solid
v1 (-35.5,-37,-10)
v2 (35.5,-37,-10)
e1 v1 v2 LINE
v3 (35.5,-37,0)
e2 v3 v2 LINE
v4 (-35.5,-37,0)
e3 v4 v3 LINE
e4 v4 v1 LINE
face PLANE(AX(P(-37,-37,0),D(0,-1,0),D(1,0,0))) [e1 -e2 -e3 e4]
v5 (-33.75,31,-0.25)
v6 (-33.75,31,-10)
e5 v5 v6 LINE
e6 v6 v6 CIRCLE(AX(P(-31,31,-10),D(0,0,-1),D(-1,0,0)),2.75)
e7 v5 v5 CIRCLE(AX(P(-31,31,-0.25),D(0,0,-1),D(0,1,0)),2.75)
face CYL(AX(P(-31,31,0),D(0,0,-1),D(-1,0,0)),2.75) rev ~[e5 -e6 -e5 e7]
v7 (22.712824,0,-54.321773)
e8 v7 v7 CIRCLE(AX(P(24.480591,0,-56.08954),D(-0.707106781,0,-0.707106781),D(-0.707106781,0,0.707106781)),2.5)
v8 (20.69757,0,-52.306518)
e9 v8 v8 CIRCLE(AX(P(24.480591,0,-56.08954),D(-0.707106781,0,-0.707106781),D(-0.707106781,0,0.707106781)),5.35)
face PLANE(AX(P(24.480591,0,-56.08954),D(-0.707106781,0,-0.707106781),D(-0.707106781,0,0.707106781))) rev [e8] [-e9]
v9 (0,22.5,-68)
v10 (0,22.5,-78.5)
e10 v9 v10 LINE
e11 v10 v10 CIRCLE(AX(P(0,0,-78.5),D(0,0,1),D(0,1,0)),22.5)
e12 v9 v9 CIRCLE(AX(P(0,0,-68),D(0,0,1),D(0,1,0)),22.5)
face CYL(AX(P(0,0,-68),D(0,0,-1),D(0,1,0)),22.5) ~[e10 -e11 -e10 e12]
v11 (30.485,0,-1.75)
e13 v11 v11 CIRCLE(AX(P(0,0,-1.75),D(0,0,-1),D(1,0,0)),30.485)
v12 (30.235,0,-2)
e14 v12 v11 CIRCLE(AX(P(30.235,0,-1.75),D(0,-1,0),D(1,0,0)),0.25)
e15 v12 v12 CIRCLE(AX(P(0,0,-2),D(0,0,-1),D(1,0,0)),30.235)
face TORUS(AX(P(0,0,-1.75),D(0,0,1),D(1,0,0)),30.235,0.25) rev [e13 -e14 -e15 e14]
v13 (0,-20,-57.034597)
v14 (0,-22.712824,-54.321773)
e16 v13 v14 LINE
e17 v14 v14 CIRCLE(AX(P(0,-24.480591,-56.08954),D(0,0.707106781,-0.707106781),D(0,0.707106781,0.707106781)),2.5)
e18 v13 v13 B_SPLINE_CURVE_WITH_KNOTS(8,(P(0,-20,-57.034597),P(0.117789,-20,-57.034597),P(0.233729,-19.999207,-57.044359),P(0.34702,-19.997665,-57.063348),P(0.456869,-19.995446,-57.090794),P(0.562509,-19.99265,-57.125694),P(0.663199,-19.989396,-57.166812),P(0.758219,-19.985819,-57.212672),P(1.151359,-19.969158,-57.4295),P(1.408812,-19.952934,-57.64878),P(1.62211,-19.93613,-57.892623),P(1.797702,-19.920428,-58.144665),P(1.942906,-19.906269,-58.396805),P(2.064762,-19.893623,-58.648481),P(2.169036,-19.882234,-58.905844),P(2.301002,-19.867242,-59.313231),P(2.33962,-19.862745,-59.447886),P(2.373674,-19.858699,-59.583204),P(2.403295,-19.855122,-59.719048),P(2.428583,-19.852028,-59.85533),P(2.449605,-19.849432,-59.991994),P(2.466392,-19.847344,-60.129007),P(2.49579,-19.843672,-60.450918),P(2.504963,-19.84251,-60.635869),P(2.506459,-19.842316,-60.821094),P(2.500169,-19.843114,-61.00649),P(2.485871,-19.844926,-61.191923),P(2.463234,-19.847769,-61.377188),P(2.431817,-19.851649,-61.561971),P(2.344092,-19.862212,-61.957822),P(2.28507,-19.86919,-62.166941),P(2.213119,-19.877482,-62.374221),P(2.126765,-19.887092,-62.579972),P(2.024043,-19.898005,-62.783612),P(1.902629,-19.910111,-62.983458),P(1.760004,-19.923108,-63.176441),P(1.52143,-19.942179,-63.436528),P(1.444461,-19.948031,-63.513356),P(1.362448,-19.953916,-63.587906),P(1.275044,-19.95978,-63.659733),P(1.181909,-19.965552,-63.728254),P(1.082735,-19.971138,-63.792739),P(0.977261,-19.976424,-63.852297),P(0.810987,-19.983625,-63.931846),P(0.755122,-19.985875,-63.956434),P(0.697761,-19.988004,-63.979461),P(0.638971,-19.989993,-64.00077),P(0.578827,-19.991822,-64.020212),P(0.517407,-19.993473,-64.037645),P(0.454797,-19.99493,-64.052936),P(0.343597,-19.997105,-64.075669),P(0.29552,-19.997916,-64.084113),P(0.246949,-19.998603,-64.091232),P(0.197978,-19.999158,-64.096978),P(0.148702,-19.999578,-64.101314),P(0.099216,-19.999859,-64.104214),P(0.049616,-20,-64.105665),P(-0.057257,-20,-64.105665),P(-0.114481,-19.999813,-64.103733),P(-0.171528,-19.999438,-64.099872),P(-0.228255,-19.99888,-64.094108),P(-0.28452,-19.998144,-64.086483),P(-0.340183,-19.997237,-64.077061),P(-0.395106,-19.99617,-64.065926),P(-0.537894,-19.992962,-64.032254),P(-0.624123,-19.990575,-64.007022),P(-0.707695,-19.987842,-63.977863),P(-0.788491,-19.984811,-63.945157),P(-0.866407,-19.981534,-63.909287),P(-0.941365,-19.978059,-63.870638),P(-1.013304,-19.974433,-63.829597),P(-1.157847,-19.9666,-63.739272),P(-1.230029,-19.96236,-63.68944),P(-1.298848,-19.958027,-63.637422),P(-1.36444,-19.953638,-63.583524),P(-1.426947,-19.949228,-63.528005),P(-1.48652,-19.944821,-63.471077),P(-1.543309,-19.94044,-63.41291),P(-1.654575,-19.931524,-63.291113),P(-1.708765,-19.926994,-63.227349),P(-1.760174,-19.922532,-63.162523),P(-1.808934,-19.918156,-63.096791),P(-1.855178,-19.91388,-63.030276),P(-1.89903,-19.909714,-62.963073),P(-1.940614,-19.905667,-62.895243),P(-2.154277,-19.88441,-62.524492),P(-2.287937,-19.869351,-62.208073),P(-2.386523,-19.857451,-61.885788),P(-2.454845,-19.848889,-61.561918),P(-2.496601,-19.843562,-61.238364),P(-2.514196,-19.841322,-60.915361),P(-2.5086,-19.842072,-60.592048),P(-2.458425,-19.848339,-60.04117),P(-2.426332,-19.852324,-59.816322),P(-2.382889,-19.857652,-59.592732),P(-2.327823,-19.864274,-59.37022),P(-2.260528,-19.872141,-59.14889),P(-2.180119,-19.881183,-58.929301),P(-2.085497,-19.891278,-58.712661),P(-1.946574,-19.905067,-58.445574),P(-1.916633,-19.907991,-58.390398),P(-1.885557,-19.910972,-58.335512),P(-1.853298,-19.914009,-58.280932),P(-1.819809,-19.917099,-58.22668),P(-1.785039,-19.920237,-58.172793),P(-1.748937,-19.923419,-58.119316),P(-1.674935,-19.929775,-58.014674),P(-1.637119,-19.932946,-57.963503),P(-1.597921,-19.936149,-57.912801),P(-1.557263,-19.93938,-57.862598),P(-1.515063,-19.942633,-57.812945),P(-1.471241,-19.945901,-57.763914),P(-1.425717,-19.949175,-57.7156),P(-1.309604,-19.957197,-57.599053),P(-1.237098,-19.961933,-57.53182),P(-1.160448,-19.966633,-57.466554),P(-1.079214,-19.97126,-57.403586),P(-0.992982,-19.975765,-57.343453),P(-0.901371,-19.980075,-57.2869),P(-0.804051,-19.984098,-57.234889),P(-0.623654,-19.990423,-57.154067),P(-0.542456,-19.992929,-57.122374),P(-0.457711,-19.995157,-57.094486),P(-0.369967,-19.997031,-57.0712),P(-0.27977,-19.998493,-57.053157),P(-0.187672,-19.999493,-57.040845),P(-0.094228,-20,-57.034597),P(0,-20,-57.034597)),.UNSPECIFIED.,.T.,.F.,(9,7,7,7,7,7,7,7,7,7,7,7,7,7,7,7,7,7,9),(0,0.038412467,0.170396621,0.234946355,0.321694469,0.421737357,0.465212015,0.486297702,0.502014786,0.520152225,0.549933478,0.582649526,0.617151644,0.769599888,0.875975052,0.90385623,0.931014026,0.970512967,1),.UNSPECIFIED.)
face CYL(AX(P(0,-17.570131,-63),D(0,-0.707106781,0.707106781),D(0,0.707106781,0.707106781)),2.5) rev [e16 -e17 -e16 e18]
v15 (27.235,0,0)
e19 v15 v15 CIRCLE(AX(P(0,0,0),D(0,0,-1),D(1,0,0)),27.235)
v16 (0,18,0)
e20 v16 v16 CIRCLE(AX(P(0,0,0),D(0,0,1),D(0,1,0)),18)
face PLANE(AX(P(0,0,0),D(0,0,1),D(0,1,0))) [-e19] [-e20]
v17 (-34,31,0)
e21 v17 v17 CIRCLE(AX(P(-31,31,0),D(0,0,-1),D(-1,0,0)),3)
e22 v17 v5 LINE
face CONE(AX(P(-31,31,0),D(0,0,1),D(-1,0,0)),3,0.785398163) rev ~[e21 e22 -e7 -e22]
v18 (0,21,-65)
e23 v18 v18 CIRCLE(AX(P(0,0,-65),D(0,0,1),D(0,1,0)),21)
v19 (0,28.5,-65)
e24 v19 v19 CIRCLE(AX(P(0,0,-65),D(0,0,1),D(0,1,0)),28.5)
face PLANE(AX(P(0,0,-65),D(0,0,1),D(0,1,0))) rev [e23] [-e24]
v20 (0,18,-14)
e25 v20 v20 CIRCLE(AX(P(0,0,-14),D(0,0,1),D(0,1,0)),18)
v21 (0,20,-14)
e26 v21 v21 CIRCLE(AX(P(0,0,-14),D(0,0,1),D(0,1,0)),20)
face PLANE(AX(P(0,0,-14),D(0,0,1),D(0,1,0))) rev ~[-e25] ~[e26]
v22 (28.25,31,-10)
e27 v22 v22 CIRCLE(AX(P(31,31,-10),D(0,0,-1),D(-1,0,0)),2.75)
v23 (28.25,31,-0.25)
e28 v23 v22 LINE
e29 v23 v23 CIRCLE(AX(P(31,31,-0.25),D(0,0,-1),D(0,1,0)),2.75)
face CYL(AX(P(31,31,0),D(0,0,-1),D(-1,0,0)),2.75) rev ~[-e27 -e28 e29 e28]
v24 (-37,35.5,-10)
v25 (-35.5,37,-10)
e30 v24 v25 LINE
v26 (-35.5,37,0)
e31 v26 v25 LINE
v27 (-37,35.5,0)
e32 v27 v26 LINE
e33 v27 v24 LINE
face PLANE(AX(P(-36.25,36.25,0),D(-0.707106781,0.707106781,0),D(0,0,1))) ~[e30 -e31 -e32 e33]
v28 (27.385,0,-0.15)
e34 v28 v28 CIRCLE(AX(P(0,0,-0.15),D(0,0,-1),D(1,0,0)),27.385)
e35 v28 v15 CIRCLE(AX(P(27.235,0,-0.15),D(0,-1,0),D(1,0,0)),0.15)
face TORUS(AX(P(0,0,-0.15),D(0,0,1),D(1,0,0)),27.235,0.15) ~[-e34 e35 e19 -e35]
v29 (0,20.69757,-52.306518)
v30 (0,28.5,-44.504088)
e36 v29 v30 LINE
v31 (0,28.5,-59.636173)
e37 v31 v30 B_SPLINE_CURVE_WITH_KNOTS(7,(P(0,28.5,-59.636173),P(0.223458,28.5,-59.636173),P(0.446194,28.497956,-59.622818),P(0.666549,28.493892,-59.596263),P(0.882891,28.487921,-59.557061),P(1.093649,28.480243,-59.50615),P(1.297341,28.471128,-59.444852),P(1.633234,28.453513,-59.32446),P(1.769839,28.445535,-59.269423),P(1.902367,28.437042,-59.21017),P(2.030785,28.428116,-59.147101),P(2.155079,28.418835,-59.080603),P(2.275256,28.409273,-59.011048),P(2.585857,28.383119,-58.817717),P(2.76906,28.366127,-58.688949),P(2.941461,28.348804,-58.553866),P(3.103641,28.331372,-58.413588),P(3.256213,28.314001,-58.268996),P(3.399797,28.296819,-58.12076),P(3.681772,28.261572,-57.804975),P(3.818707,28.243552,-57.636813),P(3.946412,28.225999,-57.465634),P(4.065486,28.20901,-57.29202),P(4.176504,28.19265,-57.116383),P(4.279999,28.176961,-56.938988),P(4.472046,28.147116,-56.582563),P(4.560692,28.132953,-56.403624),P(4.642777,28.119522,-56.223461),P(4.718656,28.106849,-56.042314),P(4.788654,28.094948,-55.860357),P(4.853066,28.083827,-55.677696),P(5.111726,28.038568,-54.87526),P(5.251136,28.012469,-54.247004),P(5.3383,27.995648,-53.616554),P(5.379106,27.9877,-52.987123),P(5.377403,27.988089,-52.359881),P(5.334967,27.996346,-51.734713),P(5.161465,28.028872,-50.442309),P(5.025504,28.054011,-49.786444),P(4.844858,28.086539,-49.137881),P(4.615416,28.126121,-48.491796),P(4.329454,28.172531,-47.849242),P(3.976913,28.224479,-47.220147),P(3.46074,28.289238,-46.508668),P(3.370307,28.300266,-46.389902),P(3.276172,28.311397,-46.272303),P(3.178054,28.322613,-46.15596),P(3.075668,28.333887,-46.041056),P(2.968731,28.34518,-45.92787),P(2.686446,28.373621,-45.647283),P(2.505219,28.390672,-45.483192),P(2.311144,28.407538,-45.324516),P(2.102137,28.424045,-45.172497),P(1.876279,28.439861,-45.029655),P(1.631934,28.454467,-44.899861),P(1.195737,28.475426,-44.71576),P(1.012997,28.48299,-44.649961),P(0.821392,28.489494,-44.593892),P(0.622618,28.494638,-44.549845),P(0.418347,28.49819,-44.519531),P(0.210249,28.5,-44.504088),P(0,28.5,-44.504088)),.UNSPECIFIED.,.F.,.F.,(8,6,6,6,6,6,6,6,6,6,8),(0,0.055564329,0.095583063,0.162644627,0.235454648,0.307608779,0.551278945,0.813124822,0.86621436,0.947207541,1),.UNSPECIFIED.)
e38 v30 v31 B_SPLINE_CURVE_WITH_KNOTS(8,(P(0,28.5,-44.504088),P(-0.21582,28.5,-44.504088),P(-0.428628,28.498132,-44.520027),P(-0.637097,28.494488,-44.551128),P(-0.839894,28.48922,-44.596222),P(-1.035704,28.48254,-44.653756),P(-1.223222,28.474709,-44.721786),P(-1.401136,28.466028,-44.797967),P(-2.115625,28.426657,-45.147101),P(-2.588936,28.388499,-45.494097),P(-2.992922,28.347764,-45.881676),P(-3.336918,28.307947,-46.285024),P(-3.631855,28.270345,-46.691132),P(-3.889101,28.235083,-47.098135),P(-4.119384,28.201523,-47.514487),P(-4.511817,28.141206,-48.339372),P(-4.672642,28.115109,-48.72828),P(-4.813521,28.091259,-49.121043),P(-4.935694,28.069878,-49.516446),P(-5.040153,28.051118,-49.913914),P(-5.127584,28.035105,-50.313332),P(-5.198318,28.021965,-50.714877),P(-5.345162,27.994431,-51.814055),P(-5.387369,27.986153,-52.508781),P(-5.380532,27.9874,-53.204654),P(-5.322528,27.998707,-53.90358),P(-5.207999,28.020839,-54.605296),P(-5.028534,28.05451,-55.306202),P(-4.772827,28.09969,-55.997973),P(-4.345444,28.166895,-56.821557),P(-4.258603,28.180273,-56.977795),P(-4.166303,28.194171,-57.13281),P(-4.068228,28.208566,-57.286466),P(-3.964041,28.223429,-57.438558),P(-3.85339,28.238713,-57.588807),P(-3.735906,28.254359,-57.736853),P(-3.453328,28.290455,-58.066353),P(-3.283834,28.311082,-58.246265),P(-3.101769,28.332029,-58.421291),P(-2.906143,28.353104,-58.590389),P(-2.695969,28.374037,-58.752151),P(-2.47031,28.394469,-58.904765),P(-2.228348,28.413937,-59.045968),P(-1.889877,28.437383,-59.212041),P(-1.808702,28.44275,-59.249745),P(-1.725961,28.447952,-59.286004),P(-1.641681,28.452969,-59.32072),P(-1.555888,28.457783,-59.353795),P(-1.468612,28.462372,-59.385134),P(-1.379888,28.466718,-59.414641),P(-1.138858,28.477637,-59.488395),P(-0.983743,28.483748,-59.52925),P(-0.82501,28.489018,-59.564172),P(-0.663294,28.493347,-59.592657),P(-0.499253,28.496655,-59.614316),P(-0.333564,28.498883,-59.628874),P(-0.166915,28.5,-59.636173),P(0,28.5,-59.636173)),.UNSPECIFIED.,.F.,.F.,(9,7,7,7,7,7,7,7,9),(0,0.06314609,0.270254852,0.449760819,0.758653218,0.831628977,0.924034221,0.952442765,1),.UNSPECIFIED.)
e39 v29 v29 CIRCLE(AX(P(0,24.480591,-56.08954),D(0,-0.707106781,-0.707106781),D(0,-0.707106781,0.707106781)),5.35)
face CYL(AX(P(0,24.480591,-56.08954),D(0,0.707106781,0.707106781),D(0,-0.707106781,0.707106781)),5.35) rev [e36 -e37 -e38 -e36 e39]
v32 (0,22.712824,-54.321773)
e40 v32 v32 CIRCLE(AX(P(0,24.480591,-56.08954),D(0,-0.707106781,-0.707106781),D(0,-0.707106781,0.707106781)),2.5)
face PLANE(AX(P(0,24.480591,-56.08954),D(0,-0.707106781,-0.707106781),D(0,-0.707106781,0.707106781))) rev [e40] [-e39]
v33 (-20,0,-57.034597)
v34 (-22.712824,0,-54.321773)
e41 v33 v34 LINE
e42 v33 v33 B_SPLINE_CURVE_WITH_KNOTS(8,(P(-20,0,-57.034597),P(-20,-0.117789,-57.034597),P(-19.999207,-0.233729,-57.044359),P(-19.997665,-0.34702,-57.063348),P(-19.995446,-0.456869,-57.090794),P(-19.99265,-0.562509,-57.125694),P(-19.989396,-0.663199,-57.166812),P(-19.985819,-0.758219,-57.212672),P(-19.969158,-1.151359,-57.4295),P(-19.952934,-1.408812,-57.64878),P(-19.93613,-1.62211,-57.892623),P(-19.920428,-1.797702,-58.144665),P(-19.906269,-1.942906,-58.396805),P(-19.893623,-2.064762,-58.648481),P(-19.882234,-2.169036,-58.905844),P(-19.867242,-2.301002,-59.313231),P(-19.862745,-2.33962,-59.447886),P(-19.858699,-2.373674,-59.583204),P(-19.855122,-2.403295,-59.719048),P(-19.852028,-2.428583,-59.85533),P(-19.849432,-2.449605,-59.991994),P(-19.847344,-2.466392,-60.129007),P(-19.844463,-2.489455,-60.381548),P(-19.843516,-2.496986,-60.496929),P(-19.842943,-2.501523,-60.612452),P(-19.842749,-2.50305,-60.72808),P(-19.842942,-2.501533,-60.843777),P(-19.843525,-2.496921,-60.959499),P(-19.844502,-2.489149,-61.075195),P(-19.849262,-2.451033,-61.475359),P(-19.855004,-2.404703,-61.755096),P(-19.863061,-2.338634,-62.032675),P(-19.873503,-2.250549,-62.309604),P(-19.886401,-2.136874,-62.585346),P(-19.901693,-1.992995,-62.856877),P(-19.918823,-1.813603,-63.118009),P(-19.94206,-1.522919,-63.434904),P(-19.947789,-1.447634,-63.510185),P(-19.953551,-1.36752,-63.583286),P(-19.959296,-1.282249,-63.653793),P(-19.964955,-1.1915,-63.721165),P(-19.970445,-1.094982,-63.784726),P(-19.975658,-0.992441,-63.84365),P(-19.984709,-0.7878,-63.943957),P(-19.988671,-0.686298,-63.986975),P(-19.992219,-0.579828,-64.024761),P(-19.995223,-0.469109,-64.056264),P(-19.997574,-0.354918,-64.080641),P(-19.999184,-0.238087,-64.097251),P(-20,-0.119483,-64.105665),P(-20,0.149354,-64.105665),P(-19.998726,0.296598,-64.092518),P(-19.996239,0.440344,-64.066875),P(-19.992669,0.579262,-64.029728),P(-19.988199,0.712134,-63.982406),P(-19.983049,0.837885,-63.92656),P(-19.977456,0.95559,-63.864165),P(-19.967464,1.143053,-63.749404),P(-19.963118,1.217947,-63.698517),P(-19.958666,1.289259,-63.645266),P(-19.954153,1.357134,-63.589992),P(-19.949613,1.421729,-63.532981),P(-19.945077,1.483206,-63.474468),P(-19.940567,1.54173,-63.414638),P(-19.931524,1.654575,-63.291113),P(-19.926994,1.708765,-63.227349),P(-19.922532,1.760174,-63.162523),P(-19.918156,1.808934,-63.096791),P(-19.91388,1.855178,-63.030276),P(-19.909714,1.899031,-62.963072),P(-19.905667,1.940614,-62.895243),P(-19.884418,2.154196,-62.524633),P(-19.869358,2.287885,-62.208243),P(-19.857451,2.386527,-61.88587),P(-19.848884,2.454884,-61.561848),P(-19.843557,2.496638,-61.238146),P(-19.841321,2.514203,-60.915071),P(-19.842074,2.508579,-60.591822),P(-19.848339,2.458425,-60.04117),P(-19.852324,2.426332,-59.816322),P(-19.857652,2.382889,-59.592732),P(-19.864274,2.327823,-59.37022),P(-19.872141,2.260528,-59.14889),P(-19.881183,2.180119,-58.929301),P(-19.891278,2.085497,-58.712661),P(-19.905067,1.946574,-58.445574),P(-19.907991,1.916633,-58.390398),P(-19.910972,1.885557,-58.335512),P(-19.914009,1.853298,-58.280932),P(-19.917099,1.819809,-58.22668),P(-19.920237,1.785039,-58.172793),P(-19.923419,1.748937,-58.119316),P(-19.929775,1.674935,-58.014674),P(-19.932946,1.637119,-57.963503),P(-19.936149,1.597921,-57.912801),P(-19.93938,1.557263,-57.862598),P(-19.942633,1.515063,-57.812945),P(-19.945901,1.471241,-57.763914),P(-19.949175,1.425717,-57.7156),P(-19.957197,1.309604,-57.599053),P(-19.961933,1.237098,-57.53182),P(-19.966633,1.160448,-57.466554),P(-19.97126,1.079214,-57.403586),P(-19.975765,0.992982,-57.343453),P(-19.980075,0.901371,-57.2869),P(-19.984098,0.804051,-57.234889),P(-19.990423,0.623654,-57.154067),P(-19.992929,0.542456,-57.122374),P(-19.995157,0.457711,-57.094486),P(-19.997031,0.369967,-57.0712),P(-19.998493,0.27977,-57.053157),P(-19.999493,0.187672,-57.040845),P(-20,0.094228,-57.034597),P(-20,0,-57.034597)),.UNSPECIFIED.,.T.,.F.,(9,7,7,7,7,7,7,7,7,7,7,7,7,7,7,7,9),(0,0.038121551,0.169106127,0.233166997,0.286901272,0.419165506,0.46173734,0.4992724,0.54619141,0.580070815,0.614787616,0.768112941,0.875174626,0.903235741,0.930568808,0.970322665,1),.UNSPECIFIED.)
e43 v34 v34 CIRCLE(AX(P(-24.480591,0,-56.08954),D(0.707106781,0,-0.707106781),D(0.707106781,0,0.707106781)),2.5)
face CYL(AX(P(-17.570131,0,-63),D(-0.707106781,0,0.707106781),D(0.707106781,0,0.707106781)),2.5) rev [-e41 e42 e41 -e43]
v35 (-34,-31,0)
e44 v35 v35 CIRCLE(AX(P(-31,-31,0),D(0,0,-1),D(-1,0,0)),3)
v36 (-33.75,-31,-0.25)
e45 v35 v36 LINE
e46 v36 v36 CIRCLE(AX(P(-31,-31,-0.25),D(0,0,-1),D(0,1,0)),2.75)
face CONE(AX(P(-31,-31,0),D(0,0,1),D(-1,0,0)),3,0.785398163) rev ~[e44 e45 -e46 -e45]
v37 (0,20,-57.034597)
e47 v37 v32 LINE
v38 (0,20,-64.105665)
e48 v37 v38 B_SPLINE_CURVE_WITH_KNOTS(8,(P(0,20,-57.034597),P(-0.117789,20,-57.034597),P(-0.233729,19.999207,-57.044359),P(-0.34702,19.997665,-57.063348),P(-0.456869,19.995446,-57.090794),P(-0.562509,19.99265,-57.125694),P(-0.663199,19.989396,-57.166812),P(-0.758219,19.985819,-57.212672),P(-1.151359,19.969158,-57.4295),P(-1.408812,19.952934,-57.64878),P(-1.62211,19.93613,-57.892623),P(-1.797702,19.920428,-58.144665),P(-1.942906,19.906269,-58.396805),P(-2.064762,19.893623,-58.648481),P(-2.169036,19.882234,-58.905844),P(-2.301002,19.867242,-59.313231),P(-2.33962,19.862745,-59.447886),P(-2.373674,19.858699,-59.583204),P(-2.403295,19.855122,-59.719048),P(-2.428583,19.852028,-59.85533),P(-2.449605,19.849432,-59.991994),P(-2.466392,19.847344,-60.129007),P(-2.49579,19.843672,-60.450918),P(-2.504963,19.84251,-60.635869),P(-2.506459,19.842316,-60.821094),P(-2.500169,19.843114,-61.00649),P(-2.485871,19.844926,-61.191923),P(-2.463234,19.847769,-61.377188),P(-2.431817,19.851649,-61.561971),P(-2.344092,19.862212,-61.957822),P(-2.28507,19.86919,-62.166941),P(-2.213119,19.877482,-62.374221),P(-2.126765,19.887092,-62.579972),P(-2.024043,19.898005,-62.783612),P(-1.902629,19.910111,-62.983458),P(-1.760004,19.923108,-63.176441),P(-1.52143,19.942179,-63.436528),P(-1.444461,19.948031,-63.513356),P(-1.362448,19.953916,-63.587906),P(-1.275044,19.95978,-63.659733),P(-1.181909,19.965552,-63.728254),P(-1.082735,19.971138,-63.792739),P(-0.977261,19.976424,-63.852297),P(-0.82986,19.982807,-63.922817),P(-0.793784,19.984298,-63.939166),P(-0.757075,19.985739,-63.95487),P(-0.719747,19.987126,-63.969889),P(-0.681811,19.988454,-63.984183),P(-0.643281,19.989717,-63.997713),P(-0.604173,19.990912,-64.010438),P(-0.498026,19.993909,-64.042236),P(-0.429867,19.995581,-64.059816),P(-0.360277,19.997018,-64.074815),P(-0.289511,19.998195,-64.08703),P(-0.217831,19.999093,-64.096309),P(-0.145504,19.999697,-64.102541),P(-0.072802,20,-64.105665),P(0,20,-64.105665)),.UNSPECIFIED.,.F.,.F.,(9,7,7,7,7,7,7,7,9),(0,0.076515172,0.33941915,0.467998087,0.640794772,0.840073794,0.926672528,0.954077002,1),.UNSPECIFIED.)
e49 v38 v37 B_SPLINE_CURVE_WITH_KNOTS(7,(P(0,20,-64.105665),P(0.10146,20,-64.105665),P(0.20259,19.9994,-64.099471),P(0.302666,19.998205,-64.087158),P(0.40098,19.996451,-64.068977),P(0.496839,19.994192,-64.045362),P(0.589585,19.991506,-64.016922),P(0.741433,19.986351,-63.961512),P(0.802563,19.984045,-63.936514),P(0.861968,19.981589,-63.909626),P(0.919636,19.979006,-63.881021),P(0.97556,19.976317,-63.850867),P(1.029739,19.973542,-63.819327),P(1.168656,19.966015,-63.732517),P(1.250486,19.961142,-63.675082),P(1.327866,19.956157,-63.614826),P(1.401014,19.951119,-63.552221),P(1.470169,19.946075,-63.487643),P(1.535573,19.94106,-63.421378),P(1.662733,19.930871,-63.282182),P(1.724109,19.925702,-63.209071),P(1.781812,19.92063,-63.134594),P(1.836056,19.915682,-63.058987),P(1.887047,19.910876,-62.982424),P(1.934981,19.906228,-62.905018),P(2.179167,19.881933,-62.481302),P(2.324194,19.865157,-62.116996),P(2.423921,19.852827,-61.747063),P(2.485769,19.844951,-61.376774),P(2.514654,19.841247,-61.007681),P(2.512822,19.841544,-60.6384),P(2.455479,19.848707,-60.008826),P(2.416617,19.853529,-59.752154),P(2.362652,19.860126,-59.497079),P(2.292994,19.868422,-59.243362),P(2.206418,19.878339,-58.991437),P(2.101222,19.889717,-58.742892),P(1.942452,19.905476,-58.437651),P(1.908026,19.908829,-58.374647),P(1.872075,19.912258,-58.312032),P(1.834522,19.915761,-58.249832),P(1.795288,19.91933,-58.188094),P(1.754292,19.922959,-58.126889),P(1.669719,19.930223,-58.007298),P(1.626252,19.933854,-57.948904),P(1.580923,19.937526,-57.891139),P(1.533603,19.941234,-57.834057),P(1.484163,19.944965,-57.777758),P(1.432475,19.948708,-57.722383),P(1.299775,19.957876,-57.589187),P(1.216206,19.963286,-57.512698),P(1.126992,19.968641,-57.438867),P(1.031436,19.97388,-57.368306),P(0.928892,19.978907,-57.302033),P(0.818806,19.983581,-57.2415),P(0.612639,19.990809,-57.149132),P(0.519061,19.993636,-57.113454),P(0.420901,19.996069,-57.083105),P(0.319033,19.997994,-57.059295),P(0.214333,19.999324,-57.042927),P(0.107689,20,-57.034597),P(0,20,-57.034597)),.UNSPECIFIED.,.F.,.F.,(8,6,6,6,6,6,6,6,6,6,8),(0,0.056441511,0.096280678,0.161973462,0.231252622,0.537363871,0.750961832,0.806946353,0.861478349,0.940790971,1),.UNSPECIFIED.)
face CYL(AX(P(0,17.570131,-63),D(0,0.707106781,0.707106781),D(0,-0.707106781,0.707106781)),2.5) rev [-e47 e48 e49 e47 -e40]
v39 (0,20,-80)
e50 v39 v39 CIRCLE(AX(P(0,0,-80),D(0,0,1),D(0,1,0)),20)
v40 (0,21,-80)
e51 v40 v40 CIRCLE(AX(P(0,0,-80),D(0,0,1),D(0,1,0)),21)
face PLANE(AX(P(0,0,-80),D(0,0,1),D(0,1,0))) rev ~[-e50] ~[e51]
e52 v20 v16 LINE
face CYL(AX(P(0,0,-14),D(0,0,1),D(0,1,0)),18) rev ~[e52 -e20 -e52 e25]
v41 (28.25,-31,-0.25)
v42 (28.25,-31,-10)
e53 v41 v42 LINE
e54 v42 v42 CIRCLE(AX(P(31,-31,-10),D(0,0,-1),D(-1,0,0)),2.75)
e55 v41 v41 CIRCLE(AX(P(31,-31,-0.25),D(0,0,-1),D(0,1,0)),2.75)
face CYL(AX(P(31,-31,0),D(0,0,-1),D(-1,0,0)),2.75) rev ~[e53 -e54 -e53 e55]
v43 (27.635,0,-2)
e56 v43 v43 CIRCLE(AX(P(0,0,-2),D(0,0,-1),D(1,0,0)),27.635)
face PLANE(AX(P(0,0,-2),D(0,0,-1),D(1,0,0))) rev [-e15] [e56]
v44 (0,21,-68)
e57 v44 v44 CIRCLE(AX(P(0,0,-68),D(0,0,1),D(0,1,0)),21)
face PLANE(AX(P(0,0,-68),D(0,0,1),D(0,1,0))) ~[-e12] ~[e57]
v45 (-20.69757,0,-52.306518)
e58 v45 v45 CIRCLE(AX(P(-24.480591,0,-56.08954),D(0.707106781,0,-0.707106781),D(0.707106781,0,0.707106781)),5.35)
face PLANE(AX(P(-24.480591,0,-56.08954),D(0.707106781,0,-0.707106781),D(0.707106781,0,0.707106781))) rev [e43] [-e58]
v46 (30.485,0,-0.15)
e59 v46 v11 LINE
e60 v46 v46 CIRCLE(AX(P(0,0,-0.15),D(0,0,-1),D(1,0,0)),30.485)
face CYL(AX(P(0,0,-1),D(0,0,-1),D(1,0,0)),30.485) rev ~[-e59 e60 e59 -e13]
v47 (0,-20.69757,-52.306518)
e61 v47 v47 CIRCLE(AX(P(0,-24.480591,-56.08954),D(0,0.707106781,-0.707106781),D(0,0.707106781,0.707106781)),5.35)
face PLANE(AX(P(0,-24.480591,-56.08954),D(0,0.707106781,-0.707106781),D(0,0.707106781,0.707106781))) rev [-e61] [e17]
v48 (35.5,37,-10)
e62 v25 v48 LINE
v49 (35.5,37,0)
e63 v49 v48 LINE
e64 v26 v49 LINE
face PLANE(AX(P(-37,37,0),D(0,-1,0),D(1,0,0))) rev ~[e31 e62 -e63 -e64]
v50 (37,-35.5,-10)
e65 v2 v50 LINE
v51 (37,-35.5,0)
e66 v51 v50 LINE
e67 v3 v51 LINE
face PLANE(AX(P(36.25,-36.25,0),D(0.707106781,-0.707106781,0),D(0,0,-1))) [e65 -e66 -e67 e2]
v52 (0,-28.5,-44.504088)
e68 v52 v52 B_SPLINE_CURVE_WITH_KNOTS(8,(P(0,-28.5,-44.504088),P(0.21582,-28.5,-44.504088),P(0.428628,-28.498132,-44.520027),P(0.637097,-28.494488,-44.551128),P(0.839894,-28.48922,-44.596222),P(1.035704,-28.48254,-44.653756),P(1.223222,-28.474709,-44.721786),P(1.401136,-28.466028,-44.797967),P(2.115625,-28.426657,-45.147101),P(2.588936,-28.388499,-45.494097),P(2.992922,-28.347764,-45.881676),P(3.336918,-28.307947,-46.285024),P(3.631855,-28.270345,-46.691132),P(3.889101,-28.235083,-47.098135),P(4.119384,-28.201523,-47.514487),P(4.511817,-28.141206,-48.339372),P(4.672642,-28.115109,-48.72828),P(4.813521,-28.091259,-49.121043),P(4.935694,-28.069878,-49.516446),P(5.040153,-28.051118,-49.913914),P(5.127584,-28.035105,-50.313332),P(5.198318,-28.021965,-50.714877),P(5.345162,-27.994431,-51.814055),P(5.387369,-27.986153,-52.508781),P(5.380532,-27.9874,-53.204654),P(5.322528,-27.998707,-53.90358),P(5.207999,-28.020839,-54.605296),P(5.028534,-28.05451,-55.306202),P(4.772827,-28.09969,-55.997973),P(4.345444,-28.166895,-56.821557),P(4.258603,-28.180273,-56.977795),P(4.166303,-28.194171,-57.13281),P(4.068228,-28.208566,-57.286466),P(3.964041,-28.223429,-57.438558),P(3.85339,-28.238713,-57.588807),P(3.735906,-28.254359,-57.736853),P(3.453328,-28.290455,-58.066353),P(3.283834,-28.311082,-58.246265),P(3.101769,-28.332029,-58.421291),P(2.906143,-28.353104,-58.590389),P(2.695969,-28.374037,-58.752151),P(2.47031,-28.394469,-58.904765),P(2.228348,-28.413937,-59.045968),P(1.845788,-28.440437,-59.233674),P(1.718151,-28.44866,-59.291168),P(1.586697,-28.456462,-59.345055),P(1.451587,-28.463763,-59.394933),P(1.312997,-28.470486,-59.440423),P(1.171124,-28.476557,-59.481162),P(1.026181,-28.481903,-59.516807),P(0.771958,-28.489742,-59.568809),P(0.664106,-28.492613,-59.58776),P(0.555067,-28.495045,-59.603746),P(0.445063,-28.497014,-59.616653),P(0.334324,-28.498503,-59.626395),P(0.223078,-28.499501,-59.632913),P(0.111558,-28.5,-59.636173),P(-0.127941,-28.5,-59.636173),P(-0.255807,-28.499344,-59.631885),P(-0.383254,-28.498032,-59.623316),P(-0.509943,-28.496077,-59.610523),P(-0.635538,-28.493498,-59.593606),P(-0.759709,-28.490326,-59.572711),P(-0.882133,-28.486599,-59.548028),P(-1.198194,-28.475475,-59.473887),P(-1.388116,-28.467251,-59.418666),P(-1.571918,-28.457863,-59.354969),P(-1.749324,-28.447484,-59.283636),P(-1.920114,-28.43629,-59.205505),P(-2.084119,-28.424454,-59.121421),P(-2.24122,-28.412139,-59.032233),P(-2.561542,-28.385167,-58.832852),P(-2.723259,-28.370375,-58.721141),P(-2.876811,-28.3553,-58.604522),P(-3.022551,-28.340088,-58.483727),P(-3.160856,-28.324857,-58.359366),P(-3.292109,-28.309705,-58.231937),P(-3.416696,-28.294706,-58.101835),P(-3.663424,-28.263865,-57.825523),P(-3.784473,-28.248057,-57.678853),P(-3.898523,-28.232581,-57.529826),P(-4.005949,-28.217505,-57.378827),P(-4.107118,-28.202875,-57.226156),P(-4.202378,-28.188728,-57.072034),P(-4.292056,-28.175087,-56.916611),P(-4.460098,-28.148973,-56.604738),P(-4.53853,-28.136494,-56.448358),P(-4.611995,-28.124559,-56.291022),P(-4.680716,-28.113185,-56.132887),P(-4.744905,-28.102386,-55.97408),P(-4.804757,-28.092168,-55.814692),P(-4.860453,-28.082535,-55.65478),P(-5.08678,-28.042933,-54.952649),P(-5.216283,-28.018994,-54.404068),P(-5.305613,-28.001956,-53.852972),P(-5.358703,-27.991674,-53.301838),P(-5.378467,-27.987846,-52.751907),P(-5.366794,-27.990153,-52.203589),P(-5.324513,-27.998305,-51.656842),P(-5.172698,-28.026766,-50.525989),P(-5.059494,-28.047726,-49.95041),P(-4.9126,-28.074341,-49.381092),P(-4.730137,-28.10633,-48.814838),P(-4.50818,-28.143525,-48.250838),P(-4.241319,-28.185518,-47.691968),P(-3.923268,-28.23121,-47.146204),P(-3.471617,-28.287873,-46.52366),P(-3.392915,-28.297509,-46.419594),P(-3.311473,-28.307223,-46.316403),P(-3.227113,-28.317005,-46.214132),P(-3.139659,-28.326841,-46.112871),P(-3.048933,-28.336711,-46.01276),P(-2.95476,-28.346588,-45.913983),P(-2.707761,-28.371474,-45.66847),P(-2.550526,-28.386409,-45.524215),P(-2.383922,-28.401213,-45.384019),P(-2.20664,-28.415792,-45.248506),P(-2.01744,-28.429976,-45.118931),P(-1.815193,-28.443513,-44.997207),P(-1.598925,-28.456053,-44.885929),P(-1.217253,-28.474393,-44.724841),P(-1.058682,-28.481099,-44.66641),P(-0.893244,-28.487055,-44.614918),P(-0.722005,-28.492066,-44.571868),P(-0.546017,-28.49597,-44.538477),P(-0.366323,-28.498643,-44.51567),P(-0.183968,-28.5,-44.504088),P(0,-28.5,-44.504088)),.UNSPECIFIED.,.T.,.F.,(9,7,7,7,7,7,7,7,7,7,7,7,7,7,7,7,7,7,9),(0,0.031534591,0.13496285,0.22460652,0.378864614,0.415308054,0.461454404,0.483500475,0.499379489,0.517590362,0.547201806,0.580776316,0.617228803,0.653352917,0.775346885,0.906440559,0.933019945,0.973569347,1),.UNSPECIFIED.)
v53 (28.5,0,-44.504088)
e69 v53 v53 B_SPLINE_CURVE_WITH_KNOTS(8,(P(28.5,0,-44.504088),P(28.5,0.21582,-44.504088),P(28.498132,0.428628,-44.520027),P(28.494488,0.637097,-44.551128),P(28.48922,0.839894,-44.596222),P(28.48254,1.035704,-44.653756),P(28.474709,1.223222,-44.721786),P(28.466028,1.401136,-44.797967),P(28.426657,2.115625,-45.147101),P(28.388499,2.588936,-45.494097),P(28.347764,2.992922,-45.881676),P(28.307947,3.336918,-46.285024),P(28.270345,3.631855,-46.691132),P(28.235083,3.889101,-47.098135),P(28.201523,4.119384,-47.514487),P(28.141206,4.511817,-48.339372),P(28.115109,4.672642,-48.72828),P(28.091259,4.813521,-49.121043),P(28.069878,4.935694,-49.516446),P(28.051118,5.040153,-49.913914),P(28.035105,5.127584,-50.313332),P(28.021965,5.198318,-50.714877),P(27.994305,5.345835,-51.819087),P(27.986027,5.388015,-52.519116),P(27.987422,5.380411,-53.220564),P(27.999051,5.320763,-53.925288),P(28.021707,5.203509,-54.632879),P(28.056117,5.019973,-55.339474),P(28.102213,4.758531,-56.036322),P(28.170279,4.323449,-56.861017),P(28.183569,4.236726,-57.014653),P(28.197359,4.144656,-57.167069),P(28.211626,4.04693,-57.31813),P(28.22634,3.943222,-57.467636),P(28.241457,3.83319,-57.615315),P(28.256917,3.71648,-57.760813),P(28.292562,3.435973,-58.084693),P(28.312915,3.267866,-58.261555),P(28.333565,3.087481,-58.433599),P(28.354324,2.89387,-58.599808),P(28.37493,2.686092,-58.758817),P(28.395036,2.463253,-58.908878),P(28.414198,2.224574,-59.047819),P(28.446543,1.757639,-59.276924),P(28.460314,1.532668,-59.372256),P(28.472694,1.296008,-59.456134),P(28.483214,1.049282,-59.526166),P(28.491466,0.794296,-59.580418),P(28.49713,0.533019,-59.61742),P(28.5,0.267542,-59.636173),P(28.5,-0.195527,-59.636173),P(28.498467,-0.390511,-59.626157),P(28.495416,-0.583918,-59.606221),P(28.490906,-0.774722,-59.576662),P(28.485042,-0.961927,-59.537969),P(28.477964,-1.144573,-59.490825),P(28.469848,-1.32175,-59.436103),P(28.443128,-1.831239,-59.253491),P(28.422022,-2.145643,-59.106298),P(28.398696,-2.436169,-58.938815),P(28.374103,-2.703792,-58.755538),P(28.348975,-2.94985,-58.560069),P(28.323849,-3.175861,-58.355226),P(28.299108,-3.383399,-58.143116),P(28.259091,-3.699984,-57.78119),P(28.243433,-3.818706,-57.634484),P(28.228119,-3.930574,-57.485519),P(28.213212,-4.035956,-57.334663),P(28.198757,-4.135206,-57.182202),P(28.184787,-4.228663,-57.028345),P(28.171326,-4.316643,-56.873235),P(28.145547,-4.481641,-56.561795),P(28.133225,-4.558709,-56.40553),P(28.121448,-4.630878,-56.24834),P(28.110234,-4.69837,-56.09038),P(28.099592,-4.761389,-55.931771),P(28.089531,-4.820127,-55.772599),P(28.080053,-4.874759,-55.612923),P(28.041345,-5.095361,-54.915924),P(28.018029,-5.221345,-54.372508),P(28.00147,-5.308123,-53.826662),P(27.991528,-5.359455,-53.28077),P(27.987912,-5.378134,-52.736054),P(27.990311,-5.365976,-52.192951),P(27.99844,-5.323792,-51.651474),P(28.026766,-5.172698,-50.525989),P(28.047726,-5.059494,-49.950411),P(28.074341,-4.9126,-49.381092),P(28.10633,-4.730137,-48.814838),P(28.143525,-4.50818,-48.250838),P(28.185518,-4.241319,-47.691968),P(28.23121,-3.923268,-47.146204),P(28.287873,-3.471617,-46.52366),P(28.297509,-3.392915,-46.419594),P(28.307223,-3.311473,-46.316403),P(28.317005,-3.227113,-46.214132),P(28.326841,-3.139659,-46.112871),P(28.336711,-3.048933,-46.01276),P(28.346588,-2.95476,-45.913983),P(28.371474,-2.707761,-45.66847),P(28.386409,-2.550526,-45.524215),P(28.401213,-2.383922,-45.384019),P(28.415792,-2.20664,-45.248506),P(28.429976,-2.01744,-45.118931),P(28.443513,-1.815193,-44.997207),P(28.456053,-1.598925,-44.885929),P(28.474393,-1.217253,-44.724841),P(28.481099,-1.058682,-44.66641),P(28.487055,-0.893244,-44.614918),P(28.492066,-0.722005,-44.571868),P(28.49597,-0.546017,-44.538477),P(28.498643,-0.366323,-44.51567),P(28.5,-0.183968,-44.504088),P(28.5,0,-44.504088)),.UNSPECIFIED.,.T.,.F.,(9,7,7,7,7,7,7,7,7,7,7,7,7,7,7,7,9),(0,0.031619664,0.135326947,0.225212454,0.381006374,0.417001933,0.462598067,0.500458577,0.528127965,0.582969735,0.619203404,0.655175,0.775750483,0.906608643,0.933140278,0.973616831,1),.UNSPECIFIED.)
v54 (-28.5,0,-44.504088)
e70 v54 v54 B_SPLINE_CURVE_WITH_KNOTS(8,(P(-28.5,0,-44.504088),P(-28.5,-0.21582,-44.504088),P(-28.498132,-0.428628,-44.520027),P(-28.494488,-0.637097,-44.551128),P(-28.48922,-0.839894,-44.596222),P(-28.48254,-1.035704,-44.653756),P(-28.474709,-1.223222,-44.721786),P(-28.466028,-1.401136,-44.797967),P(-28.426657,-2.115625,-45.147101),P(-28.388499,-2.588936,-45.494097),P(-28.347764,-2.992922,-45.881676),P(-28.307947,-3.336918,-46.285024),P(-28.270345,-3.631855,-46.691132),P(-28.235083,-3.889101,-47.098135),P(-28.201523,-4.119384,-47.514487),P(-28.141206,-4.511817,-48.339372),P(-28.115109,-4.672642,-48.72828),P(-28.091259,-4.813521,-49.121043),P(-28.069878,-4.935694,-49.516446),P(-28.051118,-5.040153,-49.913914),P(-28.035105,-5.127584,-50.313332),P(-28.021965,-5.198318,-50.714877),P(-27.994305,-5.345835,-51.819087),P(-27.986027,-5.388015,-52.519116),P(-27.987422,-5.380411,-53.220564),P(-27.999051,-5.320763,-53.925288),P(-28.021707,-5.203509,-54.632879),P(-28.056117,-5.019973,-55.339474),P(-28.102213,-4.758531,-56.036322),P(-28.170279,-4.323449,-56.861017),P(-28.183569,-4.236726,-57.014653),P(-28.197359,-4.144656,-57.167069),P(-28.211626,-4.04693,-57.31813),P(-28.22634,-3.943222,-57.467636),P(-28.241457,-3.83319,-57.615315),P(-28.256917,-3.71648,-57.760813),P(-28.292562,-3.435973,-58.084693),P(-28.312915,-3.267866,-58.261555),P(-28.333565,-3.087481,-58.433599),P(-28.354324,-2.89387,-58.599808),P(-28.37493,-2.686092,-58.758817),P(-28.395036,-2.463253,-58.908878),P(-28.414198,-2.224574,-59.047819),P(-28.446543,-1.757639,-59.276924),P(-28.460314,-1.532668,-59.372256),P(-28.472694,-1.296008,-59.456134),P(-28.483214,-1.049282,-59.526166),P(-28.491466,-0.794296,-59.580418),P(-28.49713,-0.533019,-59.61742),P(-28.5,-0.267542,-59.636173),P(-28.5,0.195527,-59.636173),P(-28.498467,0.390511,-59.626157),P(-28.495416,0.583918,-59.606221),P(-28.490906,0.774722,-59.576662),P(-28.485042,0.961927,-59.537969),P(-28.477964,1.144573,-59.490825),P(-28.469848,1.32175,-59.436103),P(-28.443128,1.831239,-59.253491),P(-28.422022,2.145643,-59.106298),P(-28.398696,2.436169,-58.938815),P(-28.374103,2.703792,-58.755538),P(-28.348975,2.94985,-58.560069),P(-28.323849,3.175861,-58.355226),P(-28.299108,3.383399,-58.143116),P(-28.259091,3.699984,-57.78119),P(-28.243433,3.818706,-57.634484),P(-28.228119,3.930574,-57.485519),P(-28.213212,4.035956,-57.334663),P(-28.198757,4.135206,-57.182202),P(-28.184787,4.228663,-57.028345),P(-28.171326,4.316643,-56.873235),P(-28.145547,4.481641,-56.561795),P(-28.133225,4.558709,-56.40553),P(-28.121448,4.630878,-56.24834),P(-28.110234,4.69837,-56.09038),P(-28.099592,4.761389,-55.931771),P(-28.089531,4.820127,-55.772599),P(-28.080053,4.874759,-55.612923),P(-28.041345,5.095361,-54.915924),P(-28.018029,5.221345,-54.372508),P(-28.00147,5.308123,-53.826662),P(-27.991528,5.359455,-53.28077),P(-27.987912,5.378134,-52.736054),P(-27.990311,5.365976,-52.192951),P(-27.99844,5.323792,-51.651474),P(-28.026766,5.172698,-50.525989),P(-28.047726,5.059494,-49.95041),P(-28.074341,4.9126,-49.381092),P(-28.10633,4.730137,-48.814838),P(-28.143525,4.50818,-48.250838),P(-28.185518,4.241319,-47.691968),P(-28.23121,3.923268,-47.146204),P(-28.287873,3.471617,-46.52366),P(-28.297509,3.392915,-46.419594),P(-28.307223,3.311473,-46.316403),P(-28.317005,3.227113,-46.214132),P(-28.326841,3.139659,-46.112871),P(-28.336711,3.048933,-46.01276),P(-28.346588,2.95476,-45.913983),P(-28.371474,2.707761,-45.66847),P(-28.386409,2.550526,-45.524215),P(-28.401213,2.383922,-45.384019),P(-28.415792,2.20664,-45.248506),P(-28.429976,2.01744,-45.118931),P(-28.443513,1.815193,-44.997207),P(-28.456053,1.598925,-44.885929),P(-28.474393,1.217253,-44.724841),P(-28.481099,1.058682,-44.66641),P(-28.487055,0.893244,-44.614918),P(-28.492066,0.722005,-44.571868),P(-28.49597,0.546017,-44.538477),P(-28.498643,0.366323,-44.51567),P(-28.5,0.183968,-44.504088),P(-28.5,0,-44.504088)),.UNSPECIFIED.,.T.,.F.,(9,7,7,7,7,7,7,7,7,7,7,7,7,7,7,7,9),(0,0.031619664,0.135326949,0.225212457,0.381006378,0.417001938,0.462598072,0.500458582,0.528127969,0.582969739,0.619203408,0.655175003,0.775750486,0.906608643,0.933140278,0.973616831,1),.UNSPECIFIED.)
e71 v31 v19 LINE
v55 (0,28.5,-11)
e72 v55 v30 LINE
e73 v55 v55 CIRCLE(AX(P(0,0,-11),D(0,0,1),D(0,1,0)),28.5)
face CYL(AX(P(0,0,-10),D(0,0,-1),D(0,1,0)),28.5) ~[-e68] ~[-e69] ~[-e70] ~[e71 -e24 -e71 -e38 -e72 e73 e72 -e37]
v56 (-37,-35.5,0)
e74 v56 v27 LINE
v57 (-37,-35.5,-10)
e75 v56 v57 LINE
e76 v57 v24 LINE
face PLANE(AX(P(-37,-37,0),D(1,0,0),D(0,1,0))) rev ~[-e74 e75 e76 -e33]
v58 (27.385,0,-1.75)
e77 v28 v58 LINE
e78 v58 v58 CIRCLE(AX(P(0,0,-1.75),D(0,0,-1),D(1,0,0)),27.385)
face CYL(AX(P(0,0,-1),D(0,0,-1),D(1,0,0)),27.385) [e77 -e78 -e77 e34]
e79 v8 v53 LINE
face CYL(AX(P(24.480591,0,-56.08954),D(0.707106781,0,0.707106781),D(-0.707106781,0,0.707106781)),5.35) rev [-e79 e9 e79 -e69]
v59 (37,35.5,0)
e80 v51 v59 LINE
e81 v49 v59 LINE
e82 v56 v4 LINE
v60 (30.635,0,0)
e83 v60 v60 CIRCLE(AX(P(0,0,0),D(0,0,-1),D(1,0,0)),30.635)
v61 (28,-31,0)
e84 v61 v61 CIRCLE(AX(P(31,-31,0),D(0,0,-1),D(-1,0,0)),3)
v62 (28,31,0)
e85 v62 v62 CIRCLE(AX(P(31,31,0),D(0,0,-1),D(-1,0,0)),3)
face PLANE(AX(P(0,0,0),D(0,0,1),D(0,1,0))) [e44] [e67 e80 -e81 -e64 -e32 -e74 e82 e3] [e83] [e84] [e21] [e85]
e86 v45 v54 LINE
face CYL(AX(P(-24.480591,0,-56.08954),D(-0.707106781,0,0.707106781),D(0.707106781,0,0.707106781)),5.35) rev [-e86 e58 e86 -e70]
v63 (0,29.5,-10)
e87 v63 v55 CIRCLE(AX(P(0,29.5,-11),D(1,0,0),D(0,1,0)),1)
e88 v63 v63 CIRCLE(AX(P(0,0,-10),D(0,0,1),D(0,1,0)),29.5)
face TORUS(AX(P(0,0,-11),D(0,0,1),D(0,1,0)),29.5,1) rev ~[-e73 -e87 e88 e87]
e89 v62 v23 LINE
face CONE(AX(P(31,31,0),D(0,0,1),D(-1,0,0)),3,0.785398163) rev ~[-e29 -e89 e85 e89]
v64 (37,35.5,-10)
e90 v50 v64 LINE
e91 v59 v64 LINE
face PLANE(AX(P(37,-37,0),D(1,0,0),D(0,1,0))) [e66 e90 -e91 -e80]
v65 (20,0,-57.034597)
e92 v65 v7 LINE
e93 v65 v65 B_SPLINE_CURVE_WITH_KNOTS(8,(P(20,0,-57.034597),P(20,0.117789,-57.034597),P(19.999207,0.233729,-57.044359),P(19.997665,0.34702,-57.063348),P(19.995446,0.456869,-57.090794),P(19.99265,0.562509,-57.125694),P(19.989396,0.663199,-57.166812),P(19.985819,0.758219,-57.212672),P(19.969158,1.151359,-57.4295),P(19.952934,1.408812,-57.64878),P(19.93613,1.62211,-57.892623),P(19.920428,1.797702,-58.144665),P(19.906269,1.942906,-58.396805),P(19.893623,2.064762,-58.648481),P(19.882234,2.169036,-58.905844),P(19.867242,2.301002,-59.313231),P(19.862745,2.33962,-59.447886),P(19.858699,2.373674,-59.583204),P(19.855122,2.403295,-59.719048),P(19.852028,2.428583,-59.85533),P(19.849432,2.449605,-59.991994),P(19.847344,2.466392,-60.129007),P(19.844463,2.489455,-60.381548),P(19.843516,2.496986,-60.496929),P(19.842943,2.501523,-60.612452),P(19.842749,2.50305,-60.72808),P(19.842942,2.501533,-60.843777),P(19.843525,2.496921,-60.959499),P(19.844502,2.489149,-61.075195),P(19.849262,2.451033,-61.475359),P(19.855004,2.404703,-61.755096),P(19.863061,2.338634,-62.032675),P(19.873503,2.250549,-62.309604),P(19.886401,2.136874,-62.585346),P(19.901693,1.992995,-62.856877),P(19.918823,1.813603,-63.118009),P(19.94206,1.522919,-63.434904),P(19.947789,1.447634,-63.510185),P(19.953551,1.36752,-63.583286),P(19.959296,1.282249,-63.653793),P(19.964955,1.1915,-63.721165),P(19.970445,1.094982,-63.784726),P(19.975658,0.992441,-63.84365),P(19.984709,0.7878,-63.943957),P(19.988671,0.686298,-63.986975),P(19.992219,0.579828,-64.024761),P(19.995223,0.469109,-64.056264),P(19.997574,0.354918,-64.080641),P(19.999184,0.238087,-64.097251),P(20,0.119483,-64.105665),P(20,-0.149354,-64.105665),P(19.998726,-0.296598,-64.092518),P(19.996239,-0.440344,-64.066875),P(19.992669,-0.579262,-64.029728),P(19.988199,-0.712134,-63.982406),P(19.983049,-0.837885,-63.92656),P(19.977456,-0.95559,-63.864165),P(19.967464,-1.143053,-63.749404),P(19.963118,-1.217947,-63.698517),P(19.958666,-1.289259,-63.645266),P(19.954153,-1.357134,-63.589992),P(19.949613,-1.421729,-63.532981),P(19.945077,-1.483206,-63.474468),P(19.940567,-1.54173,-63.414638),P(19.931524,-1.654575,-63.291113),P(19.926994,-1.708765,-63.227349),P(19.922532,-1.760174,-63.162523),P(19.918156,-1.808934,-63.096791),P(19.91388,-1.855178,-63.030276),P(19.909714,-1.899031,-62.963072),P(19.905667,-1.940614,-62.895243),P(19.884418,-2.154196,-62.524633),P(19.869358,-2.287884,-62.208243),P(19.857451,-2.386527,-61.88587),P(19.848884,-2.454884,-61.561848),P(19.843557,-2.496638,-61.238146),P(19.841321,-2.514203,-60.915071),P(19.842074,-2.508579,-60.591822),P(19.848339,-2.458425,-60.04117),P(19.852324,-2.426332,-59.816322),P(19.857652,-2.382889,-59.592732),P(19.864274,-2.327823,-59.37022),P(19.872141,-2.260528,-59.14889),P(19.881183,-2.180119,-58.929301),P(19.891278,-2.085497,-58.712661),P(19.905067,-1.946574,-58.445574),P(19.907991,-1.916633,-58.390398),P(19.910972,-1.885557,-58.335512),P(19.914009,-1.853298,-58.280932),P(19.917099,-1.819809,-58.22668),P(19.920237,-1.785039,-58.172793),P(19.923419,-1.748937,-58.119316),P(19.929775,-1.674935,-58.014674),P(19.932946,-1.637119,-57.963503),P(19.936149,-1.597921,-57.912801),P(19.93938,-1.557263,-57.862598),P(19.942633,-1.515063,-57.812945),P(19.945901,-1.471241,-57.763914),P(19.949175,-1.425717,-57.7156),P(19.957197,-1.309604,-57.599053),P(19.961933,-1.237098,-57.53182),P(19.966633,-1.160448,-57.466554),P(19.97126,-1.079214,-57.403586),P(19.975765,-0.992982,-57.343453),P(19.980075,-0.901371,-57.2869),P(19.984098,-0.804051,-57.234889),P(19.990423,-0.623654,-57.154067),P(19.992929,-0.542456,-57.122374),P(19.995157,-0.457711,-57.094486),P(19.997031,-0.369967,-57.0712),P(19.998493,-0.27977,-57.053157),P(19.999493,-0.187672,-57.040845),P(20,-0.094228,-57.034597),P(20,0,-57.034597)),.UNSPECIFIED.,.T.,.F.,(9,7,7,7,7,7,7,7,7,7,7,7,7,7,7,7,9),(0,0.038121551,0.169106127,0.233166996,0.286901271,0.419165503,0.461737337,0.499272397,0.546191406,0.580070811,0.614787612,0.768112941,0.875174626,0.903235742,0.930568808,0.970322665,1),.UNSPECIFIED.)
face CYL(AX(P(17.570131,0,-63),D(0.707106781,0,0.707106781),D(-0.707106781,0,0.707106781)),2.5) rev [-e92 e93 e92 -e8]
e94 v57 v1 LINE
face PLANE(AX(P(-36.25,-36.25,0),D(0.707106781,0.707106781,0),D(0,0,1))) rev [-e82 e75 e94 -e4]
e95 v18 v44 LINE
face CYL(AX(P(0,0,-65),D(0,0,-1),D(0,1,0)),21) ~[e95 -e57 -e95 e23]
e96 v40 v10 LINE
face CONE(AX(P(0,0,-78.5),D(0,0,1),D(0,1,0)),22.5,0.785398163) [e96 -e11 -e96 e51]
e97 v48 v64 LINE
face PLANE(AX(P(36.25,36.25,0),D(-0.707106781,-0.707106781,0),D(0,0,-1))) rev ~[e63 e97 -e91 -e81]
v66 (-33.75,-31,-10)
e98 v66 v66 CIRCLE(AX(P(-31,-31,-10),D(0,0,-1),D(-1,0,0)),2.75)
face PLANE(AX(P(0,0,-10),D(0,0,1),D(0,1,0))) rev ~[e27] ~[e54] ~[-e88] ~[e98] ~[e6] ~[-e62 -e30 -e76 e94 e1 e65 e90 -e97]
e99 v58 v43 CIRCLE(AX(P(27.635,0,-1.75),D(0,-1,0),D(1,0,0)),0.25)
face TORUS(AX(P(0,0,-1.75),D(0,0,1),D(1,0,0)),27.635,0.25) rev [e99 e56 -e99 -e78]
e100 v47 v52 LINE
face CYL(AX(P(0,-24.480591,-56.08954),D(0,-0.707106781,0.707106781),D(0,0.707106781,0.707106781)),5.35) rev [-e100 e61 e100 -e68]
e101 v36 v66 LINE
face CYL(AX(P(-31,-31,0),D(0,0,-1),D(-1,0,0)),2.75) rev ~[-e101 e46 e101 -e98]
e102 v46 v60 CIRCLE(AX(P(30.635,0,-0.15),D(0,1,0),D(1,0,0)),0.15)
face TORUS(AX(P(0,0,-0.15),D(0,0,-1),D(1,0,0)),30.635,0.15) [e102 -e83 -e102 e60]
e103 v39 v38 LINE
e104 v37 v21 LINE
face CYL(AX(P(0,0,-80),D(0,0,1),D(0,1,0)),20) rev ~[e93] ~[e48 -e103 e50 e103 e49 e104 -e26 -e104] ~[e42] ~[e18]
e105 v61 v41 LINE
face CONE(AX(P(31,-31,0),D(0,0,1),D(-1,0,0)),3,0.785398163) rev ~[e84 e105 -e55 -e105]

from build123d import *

# Parameters (mm, degrees)
FURO_COM_FOLGA_DE_M51_D           = 5.5
FURO_COM_FOLGA_DE_M51_CSINK_D     = 6
FURO_COM_FOLGA_DE_M51_CSINK_ANGLE = 90
ESBO_O8_R                         = 52.5
ESBO_O8_W                         = 74
ESBO_O8_H                         = 74
CORTE_EXTRUS_O1_DEPTH             = 81
PADR_OCIRCULAR1_COUNT             = 4
CHANFRO1_SIZE                     = 1.5
ESBO_O35_W                        = 3.1
ESBO_O35_H                        = 2
FILETE1_R                         = 0.25
FILETE2_R                         = 0.15
CHANFRO2_SIZE                     = 1.5
FILETE3_R                         = 1


with BuildPart() as part:
    # Esboço2 → Revolução1 (revolve)
    with BuildSketch(Plane(origin=(0, 0, 0), x_dir=(0, 0, -1), z_dir=(1, 0, 0))):
        Polygon((0, 20), (0, 52.5), (10, 52.5), (10, 28.5), (65, 28.5), (65, 22.5), (65, 21), (68, 21), (68, 22.5), (80, 22.5), (80, 20), (14, 20), (14, 18), (0, 18), align=None)
    revolve(axis=Axis((0, 0, -80), (0, 0, 1)))

    # Furo com folga de M51 (through all)
    with Locations(Plane.XY):
        with Locations((-31, -31), (-31, 31), (31, 31), (31, -31)):
            CounterSinkHole(FURO_COM_FOLGA_DE_M51_D / 2, FURO_COM_FOLGA_DE_M51_CSINK_D / 2, counter_sink_angle=FURO_COM_FOLGA_DE_M51_CSINK_ANGLE)

    # Esboço8 → Corte-extrusão1 (cut, through all)
    with BuildSketch(Plane.XY):
        Circle(ESBO_O8_R)
        Rectangle(ESBO_O8_W, ESBO_O8_H, mode=Mode.SUBTRACT)
    extrude(amount=-CORTE_EXTRUS_O1_DEPTH, mode=Mode.SUBTRACT)

    # Esboço33 → Corte-Revolução1 (revolve, cut)
    with BuildSketch(Plane(origin=(0, 0, 0), x_dir=(1, 0, 0), z_dir=(0, 1, 0))):
        Polygon((-22.712824205, 54.321772669), (-20.697569878, 52.306518343), (-31.997290029, 41.006798193), (-31.997290029, 48.572840752), (-17.57013078, 63), (-15.802363827, 61.232233047), align=None)
    corte_revolu_o1 = revolve(axis=Axis((-31.997290029, 0, -48.572840752), (0.707106781, 0, -0.707106781)), mode=Mode.SUBTRACT)

    # PadrãoCircular1: Corte-Revolução1 ×4 about axis
    padr_ocircular1_axis = Axis((0, 0, 0), (0, 0, 1))
    for i in range(1, PADR_OCIRCULAR1_COUNT):
        add(corte_revolu_o1.rotate(padr_ocircular1_axis, i * 360 / PADR_OCIRCULAR1_COUNT), mode=Mode.SUBTRACT)

    # Chanfro1
    chanfro1_edges = [part.edges().sort_by_distance(p)[0] for p in [
        (0, -22.5, -80),
    ]]
    chamfer(chanfro1_edges, length=CHANFRO1_SIZE)

    # Esboço35 → Corte-Revolução2 (revolve, cut)
    with BuildSketch(Plane(origin=(0, 0, 0), x_dir=(1, 0, 0), z_dir=(0, 1, 0))):
        with Locations((28.935, 1)):
            Rectangle(ESBO_O35_W, ESBO_O35_H)
    revolve(axis=Axis((0, 0, 0), (0, 0, -1)), mode=Mode.SUBTRACT)

    # Filete1
    filete1_edges = [part.edges().sort_by_distance(p)[0] for p in [
        (-30.485, 0, -2),
        (-27.385, 0, -2),
    ]]
    fillet(filete1_edges, radius=FILETE1_R)

    # Filete2
    filete2_edges = [part.edges().sort_by_distance(p)[0] for p in [
        (-27.385, 0, 0),
        (-30.485, 0, 0),
    ]]
    fillet(filete2_edges, radius=FILETE2_R)

    # Chanfro2
    chanfro2_edges = [part.edges().sort_by_distance(p)[0] for p in [
        (37, 37, -5),
        (37, -37, -5),
        (-37, -37, -5),
        (-37, 37, -5),
    ]]
    chamfer(chanfro2_edges, length=CHANFRO2_SIZE)

    # Filete3
    filete3_edges = [part.edges().sort_by_distance(p)[0] for p in [
        (0, -28.5, -10),
    ]]
    fillet(filete3_edges, radius=FILETE3_R)


solid = part.part
